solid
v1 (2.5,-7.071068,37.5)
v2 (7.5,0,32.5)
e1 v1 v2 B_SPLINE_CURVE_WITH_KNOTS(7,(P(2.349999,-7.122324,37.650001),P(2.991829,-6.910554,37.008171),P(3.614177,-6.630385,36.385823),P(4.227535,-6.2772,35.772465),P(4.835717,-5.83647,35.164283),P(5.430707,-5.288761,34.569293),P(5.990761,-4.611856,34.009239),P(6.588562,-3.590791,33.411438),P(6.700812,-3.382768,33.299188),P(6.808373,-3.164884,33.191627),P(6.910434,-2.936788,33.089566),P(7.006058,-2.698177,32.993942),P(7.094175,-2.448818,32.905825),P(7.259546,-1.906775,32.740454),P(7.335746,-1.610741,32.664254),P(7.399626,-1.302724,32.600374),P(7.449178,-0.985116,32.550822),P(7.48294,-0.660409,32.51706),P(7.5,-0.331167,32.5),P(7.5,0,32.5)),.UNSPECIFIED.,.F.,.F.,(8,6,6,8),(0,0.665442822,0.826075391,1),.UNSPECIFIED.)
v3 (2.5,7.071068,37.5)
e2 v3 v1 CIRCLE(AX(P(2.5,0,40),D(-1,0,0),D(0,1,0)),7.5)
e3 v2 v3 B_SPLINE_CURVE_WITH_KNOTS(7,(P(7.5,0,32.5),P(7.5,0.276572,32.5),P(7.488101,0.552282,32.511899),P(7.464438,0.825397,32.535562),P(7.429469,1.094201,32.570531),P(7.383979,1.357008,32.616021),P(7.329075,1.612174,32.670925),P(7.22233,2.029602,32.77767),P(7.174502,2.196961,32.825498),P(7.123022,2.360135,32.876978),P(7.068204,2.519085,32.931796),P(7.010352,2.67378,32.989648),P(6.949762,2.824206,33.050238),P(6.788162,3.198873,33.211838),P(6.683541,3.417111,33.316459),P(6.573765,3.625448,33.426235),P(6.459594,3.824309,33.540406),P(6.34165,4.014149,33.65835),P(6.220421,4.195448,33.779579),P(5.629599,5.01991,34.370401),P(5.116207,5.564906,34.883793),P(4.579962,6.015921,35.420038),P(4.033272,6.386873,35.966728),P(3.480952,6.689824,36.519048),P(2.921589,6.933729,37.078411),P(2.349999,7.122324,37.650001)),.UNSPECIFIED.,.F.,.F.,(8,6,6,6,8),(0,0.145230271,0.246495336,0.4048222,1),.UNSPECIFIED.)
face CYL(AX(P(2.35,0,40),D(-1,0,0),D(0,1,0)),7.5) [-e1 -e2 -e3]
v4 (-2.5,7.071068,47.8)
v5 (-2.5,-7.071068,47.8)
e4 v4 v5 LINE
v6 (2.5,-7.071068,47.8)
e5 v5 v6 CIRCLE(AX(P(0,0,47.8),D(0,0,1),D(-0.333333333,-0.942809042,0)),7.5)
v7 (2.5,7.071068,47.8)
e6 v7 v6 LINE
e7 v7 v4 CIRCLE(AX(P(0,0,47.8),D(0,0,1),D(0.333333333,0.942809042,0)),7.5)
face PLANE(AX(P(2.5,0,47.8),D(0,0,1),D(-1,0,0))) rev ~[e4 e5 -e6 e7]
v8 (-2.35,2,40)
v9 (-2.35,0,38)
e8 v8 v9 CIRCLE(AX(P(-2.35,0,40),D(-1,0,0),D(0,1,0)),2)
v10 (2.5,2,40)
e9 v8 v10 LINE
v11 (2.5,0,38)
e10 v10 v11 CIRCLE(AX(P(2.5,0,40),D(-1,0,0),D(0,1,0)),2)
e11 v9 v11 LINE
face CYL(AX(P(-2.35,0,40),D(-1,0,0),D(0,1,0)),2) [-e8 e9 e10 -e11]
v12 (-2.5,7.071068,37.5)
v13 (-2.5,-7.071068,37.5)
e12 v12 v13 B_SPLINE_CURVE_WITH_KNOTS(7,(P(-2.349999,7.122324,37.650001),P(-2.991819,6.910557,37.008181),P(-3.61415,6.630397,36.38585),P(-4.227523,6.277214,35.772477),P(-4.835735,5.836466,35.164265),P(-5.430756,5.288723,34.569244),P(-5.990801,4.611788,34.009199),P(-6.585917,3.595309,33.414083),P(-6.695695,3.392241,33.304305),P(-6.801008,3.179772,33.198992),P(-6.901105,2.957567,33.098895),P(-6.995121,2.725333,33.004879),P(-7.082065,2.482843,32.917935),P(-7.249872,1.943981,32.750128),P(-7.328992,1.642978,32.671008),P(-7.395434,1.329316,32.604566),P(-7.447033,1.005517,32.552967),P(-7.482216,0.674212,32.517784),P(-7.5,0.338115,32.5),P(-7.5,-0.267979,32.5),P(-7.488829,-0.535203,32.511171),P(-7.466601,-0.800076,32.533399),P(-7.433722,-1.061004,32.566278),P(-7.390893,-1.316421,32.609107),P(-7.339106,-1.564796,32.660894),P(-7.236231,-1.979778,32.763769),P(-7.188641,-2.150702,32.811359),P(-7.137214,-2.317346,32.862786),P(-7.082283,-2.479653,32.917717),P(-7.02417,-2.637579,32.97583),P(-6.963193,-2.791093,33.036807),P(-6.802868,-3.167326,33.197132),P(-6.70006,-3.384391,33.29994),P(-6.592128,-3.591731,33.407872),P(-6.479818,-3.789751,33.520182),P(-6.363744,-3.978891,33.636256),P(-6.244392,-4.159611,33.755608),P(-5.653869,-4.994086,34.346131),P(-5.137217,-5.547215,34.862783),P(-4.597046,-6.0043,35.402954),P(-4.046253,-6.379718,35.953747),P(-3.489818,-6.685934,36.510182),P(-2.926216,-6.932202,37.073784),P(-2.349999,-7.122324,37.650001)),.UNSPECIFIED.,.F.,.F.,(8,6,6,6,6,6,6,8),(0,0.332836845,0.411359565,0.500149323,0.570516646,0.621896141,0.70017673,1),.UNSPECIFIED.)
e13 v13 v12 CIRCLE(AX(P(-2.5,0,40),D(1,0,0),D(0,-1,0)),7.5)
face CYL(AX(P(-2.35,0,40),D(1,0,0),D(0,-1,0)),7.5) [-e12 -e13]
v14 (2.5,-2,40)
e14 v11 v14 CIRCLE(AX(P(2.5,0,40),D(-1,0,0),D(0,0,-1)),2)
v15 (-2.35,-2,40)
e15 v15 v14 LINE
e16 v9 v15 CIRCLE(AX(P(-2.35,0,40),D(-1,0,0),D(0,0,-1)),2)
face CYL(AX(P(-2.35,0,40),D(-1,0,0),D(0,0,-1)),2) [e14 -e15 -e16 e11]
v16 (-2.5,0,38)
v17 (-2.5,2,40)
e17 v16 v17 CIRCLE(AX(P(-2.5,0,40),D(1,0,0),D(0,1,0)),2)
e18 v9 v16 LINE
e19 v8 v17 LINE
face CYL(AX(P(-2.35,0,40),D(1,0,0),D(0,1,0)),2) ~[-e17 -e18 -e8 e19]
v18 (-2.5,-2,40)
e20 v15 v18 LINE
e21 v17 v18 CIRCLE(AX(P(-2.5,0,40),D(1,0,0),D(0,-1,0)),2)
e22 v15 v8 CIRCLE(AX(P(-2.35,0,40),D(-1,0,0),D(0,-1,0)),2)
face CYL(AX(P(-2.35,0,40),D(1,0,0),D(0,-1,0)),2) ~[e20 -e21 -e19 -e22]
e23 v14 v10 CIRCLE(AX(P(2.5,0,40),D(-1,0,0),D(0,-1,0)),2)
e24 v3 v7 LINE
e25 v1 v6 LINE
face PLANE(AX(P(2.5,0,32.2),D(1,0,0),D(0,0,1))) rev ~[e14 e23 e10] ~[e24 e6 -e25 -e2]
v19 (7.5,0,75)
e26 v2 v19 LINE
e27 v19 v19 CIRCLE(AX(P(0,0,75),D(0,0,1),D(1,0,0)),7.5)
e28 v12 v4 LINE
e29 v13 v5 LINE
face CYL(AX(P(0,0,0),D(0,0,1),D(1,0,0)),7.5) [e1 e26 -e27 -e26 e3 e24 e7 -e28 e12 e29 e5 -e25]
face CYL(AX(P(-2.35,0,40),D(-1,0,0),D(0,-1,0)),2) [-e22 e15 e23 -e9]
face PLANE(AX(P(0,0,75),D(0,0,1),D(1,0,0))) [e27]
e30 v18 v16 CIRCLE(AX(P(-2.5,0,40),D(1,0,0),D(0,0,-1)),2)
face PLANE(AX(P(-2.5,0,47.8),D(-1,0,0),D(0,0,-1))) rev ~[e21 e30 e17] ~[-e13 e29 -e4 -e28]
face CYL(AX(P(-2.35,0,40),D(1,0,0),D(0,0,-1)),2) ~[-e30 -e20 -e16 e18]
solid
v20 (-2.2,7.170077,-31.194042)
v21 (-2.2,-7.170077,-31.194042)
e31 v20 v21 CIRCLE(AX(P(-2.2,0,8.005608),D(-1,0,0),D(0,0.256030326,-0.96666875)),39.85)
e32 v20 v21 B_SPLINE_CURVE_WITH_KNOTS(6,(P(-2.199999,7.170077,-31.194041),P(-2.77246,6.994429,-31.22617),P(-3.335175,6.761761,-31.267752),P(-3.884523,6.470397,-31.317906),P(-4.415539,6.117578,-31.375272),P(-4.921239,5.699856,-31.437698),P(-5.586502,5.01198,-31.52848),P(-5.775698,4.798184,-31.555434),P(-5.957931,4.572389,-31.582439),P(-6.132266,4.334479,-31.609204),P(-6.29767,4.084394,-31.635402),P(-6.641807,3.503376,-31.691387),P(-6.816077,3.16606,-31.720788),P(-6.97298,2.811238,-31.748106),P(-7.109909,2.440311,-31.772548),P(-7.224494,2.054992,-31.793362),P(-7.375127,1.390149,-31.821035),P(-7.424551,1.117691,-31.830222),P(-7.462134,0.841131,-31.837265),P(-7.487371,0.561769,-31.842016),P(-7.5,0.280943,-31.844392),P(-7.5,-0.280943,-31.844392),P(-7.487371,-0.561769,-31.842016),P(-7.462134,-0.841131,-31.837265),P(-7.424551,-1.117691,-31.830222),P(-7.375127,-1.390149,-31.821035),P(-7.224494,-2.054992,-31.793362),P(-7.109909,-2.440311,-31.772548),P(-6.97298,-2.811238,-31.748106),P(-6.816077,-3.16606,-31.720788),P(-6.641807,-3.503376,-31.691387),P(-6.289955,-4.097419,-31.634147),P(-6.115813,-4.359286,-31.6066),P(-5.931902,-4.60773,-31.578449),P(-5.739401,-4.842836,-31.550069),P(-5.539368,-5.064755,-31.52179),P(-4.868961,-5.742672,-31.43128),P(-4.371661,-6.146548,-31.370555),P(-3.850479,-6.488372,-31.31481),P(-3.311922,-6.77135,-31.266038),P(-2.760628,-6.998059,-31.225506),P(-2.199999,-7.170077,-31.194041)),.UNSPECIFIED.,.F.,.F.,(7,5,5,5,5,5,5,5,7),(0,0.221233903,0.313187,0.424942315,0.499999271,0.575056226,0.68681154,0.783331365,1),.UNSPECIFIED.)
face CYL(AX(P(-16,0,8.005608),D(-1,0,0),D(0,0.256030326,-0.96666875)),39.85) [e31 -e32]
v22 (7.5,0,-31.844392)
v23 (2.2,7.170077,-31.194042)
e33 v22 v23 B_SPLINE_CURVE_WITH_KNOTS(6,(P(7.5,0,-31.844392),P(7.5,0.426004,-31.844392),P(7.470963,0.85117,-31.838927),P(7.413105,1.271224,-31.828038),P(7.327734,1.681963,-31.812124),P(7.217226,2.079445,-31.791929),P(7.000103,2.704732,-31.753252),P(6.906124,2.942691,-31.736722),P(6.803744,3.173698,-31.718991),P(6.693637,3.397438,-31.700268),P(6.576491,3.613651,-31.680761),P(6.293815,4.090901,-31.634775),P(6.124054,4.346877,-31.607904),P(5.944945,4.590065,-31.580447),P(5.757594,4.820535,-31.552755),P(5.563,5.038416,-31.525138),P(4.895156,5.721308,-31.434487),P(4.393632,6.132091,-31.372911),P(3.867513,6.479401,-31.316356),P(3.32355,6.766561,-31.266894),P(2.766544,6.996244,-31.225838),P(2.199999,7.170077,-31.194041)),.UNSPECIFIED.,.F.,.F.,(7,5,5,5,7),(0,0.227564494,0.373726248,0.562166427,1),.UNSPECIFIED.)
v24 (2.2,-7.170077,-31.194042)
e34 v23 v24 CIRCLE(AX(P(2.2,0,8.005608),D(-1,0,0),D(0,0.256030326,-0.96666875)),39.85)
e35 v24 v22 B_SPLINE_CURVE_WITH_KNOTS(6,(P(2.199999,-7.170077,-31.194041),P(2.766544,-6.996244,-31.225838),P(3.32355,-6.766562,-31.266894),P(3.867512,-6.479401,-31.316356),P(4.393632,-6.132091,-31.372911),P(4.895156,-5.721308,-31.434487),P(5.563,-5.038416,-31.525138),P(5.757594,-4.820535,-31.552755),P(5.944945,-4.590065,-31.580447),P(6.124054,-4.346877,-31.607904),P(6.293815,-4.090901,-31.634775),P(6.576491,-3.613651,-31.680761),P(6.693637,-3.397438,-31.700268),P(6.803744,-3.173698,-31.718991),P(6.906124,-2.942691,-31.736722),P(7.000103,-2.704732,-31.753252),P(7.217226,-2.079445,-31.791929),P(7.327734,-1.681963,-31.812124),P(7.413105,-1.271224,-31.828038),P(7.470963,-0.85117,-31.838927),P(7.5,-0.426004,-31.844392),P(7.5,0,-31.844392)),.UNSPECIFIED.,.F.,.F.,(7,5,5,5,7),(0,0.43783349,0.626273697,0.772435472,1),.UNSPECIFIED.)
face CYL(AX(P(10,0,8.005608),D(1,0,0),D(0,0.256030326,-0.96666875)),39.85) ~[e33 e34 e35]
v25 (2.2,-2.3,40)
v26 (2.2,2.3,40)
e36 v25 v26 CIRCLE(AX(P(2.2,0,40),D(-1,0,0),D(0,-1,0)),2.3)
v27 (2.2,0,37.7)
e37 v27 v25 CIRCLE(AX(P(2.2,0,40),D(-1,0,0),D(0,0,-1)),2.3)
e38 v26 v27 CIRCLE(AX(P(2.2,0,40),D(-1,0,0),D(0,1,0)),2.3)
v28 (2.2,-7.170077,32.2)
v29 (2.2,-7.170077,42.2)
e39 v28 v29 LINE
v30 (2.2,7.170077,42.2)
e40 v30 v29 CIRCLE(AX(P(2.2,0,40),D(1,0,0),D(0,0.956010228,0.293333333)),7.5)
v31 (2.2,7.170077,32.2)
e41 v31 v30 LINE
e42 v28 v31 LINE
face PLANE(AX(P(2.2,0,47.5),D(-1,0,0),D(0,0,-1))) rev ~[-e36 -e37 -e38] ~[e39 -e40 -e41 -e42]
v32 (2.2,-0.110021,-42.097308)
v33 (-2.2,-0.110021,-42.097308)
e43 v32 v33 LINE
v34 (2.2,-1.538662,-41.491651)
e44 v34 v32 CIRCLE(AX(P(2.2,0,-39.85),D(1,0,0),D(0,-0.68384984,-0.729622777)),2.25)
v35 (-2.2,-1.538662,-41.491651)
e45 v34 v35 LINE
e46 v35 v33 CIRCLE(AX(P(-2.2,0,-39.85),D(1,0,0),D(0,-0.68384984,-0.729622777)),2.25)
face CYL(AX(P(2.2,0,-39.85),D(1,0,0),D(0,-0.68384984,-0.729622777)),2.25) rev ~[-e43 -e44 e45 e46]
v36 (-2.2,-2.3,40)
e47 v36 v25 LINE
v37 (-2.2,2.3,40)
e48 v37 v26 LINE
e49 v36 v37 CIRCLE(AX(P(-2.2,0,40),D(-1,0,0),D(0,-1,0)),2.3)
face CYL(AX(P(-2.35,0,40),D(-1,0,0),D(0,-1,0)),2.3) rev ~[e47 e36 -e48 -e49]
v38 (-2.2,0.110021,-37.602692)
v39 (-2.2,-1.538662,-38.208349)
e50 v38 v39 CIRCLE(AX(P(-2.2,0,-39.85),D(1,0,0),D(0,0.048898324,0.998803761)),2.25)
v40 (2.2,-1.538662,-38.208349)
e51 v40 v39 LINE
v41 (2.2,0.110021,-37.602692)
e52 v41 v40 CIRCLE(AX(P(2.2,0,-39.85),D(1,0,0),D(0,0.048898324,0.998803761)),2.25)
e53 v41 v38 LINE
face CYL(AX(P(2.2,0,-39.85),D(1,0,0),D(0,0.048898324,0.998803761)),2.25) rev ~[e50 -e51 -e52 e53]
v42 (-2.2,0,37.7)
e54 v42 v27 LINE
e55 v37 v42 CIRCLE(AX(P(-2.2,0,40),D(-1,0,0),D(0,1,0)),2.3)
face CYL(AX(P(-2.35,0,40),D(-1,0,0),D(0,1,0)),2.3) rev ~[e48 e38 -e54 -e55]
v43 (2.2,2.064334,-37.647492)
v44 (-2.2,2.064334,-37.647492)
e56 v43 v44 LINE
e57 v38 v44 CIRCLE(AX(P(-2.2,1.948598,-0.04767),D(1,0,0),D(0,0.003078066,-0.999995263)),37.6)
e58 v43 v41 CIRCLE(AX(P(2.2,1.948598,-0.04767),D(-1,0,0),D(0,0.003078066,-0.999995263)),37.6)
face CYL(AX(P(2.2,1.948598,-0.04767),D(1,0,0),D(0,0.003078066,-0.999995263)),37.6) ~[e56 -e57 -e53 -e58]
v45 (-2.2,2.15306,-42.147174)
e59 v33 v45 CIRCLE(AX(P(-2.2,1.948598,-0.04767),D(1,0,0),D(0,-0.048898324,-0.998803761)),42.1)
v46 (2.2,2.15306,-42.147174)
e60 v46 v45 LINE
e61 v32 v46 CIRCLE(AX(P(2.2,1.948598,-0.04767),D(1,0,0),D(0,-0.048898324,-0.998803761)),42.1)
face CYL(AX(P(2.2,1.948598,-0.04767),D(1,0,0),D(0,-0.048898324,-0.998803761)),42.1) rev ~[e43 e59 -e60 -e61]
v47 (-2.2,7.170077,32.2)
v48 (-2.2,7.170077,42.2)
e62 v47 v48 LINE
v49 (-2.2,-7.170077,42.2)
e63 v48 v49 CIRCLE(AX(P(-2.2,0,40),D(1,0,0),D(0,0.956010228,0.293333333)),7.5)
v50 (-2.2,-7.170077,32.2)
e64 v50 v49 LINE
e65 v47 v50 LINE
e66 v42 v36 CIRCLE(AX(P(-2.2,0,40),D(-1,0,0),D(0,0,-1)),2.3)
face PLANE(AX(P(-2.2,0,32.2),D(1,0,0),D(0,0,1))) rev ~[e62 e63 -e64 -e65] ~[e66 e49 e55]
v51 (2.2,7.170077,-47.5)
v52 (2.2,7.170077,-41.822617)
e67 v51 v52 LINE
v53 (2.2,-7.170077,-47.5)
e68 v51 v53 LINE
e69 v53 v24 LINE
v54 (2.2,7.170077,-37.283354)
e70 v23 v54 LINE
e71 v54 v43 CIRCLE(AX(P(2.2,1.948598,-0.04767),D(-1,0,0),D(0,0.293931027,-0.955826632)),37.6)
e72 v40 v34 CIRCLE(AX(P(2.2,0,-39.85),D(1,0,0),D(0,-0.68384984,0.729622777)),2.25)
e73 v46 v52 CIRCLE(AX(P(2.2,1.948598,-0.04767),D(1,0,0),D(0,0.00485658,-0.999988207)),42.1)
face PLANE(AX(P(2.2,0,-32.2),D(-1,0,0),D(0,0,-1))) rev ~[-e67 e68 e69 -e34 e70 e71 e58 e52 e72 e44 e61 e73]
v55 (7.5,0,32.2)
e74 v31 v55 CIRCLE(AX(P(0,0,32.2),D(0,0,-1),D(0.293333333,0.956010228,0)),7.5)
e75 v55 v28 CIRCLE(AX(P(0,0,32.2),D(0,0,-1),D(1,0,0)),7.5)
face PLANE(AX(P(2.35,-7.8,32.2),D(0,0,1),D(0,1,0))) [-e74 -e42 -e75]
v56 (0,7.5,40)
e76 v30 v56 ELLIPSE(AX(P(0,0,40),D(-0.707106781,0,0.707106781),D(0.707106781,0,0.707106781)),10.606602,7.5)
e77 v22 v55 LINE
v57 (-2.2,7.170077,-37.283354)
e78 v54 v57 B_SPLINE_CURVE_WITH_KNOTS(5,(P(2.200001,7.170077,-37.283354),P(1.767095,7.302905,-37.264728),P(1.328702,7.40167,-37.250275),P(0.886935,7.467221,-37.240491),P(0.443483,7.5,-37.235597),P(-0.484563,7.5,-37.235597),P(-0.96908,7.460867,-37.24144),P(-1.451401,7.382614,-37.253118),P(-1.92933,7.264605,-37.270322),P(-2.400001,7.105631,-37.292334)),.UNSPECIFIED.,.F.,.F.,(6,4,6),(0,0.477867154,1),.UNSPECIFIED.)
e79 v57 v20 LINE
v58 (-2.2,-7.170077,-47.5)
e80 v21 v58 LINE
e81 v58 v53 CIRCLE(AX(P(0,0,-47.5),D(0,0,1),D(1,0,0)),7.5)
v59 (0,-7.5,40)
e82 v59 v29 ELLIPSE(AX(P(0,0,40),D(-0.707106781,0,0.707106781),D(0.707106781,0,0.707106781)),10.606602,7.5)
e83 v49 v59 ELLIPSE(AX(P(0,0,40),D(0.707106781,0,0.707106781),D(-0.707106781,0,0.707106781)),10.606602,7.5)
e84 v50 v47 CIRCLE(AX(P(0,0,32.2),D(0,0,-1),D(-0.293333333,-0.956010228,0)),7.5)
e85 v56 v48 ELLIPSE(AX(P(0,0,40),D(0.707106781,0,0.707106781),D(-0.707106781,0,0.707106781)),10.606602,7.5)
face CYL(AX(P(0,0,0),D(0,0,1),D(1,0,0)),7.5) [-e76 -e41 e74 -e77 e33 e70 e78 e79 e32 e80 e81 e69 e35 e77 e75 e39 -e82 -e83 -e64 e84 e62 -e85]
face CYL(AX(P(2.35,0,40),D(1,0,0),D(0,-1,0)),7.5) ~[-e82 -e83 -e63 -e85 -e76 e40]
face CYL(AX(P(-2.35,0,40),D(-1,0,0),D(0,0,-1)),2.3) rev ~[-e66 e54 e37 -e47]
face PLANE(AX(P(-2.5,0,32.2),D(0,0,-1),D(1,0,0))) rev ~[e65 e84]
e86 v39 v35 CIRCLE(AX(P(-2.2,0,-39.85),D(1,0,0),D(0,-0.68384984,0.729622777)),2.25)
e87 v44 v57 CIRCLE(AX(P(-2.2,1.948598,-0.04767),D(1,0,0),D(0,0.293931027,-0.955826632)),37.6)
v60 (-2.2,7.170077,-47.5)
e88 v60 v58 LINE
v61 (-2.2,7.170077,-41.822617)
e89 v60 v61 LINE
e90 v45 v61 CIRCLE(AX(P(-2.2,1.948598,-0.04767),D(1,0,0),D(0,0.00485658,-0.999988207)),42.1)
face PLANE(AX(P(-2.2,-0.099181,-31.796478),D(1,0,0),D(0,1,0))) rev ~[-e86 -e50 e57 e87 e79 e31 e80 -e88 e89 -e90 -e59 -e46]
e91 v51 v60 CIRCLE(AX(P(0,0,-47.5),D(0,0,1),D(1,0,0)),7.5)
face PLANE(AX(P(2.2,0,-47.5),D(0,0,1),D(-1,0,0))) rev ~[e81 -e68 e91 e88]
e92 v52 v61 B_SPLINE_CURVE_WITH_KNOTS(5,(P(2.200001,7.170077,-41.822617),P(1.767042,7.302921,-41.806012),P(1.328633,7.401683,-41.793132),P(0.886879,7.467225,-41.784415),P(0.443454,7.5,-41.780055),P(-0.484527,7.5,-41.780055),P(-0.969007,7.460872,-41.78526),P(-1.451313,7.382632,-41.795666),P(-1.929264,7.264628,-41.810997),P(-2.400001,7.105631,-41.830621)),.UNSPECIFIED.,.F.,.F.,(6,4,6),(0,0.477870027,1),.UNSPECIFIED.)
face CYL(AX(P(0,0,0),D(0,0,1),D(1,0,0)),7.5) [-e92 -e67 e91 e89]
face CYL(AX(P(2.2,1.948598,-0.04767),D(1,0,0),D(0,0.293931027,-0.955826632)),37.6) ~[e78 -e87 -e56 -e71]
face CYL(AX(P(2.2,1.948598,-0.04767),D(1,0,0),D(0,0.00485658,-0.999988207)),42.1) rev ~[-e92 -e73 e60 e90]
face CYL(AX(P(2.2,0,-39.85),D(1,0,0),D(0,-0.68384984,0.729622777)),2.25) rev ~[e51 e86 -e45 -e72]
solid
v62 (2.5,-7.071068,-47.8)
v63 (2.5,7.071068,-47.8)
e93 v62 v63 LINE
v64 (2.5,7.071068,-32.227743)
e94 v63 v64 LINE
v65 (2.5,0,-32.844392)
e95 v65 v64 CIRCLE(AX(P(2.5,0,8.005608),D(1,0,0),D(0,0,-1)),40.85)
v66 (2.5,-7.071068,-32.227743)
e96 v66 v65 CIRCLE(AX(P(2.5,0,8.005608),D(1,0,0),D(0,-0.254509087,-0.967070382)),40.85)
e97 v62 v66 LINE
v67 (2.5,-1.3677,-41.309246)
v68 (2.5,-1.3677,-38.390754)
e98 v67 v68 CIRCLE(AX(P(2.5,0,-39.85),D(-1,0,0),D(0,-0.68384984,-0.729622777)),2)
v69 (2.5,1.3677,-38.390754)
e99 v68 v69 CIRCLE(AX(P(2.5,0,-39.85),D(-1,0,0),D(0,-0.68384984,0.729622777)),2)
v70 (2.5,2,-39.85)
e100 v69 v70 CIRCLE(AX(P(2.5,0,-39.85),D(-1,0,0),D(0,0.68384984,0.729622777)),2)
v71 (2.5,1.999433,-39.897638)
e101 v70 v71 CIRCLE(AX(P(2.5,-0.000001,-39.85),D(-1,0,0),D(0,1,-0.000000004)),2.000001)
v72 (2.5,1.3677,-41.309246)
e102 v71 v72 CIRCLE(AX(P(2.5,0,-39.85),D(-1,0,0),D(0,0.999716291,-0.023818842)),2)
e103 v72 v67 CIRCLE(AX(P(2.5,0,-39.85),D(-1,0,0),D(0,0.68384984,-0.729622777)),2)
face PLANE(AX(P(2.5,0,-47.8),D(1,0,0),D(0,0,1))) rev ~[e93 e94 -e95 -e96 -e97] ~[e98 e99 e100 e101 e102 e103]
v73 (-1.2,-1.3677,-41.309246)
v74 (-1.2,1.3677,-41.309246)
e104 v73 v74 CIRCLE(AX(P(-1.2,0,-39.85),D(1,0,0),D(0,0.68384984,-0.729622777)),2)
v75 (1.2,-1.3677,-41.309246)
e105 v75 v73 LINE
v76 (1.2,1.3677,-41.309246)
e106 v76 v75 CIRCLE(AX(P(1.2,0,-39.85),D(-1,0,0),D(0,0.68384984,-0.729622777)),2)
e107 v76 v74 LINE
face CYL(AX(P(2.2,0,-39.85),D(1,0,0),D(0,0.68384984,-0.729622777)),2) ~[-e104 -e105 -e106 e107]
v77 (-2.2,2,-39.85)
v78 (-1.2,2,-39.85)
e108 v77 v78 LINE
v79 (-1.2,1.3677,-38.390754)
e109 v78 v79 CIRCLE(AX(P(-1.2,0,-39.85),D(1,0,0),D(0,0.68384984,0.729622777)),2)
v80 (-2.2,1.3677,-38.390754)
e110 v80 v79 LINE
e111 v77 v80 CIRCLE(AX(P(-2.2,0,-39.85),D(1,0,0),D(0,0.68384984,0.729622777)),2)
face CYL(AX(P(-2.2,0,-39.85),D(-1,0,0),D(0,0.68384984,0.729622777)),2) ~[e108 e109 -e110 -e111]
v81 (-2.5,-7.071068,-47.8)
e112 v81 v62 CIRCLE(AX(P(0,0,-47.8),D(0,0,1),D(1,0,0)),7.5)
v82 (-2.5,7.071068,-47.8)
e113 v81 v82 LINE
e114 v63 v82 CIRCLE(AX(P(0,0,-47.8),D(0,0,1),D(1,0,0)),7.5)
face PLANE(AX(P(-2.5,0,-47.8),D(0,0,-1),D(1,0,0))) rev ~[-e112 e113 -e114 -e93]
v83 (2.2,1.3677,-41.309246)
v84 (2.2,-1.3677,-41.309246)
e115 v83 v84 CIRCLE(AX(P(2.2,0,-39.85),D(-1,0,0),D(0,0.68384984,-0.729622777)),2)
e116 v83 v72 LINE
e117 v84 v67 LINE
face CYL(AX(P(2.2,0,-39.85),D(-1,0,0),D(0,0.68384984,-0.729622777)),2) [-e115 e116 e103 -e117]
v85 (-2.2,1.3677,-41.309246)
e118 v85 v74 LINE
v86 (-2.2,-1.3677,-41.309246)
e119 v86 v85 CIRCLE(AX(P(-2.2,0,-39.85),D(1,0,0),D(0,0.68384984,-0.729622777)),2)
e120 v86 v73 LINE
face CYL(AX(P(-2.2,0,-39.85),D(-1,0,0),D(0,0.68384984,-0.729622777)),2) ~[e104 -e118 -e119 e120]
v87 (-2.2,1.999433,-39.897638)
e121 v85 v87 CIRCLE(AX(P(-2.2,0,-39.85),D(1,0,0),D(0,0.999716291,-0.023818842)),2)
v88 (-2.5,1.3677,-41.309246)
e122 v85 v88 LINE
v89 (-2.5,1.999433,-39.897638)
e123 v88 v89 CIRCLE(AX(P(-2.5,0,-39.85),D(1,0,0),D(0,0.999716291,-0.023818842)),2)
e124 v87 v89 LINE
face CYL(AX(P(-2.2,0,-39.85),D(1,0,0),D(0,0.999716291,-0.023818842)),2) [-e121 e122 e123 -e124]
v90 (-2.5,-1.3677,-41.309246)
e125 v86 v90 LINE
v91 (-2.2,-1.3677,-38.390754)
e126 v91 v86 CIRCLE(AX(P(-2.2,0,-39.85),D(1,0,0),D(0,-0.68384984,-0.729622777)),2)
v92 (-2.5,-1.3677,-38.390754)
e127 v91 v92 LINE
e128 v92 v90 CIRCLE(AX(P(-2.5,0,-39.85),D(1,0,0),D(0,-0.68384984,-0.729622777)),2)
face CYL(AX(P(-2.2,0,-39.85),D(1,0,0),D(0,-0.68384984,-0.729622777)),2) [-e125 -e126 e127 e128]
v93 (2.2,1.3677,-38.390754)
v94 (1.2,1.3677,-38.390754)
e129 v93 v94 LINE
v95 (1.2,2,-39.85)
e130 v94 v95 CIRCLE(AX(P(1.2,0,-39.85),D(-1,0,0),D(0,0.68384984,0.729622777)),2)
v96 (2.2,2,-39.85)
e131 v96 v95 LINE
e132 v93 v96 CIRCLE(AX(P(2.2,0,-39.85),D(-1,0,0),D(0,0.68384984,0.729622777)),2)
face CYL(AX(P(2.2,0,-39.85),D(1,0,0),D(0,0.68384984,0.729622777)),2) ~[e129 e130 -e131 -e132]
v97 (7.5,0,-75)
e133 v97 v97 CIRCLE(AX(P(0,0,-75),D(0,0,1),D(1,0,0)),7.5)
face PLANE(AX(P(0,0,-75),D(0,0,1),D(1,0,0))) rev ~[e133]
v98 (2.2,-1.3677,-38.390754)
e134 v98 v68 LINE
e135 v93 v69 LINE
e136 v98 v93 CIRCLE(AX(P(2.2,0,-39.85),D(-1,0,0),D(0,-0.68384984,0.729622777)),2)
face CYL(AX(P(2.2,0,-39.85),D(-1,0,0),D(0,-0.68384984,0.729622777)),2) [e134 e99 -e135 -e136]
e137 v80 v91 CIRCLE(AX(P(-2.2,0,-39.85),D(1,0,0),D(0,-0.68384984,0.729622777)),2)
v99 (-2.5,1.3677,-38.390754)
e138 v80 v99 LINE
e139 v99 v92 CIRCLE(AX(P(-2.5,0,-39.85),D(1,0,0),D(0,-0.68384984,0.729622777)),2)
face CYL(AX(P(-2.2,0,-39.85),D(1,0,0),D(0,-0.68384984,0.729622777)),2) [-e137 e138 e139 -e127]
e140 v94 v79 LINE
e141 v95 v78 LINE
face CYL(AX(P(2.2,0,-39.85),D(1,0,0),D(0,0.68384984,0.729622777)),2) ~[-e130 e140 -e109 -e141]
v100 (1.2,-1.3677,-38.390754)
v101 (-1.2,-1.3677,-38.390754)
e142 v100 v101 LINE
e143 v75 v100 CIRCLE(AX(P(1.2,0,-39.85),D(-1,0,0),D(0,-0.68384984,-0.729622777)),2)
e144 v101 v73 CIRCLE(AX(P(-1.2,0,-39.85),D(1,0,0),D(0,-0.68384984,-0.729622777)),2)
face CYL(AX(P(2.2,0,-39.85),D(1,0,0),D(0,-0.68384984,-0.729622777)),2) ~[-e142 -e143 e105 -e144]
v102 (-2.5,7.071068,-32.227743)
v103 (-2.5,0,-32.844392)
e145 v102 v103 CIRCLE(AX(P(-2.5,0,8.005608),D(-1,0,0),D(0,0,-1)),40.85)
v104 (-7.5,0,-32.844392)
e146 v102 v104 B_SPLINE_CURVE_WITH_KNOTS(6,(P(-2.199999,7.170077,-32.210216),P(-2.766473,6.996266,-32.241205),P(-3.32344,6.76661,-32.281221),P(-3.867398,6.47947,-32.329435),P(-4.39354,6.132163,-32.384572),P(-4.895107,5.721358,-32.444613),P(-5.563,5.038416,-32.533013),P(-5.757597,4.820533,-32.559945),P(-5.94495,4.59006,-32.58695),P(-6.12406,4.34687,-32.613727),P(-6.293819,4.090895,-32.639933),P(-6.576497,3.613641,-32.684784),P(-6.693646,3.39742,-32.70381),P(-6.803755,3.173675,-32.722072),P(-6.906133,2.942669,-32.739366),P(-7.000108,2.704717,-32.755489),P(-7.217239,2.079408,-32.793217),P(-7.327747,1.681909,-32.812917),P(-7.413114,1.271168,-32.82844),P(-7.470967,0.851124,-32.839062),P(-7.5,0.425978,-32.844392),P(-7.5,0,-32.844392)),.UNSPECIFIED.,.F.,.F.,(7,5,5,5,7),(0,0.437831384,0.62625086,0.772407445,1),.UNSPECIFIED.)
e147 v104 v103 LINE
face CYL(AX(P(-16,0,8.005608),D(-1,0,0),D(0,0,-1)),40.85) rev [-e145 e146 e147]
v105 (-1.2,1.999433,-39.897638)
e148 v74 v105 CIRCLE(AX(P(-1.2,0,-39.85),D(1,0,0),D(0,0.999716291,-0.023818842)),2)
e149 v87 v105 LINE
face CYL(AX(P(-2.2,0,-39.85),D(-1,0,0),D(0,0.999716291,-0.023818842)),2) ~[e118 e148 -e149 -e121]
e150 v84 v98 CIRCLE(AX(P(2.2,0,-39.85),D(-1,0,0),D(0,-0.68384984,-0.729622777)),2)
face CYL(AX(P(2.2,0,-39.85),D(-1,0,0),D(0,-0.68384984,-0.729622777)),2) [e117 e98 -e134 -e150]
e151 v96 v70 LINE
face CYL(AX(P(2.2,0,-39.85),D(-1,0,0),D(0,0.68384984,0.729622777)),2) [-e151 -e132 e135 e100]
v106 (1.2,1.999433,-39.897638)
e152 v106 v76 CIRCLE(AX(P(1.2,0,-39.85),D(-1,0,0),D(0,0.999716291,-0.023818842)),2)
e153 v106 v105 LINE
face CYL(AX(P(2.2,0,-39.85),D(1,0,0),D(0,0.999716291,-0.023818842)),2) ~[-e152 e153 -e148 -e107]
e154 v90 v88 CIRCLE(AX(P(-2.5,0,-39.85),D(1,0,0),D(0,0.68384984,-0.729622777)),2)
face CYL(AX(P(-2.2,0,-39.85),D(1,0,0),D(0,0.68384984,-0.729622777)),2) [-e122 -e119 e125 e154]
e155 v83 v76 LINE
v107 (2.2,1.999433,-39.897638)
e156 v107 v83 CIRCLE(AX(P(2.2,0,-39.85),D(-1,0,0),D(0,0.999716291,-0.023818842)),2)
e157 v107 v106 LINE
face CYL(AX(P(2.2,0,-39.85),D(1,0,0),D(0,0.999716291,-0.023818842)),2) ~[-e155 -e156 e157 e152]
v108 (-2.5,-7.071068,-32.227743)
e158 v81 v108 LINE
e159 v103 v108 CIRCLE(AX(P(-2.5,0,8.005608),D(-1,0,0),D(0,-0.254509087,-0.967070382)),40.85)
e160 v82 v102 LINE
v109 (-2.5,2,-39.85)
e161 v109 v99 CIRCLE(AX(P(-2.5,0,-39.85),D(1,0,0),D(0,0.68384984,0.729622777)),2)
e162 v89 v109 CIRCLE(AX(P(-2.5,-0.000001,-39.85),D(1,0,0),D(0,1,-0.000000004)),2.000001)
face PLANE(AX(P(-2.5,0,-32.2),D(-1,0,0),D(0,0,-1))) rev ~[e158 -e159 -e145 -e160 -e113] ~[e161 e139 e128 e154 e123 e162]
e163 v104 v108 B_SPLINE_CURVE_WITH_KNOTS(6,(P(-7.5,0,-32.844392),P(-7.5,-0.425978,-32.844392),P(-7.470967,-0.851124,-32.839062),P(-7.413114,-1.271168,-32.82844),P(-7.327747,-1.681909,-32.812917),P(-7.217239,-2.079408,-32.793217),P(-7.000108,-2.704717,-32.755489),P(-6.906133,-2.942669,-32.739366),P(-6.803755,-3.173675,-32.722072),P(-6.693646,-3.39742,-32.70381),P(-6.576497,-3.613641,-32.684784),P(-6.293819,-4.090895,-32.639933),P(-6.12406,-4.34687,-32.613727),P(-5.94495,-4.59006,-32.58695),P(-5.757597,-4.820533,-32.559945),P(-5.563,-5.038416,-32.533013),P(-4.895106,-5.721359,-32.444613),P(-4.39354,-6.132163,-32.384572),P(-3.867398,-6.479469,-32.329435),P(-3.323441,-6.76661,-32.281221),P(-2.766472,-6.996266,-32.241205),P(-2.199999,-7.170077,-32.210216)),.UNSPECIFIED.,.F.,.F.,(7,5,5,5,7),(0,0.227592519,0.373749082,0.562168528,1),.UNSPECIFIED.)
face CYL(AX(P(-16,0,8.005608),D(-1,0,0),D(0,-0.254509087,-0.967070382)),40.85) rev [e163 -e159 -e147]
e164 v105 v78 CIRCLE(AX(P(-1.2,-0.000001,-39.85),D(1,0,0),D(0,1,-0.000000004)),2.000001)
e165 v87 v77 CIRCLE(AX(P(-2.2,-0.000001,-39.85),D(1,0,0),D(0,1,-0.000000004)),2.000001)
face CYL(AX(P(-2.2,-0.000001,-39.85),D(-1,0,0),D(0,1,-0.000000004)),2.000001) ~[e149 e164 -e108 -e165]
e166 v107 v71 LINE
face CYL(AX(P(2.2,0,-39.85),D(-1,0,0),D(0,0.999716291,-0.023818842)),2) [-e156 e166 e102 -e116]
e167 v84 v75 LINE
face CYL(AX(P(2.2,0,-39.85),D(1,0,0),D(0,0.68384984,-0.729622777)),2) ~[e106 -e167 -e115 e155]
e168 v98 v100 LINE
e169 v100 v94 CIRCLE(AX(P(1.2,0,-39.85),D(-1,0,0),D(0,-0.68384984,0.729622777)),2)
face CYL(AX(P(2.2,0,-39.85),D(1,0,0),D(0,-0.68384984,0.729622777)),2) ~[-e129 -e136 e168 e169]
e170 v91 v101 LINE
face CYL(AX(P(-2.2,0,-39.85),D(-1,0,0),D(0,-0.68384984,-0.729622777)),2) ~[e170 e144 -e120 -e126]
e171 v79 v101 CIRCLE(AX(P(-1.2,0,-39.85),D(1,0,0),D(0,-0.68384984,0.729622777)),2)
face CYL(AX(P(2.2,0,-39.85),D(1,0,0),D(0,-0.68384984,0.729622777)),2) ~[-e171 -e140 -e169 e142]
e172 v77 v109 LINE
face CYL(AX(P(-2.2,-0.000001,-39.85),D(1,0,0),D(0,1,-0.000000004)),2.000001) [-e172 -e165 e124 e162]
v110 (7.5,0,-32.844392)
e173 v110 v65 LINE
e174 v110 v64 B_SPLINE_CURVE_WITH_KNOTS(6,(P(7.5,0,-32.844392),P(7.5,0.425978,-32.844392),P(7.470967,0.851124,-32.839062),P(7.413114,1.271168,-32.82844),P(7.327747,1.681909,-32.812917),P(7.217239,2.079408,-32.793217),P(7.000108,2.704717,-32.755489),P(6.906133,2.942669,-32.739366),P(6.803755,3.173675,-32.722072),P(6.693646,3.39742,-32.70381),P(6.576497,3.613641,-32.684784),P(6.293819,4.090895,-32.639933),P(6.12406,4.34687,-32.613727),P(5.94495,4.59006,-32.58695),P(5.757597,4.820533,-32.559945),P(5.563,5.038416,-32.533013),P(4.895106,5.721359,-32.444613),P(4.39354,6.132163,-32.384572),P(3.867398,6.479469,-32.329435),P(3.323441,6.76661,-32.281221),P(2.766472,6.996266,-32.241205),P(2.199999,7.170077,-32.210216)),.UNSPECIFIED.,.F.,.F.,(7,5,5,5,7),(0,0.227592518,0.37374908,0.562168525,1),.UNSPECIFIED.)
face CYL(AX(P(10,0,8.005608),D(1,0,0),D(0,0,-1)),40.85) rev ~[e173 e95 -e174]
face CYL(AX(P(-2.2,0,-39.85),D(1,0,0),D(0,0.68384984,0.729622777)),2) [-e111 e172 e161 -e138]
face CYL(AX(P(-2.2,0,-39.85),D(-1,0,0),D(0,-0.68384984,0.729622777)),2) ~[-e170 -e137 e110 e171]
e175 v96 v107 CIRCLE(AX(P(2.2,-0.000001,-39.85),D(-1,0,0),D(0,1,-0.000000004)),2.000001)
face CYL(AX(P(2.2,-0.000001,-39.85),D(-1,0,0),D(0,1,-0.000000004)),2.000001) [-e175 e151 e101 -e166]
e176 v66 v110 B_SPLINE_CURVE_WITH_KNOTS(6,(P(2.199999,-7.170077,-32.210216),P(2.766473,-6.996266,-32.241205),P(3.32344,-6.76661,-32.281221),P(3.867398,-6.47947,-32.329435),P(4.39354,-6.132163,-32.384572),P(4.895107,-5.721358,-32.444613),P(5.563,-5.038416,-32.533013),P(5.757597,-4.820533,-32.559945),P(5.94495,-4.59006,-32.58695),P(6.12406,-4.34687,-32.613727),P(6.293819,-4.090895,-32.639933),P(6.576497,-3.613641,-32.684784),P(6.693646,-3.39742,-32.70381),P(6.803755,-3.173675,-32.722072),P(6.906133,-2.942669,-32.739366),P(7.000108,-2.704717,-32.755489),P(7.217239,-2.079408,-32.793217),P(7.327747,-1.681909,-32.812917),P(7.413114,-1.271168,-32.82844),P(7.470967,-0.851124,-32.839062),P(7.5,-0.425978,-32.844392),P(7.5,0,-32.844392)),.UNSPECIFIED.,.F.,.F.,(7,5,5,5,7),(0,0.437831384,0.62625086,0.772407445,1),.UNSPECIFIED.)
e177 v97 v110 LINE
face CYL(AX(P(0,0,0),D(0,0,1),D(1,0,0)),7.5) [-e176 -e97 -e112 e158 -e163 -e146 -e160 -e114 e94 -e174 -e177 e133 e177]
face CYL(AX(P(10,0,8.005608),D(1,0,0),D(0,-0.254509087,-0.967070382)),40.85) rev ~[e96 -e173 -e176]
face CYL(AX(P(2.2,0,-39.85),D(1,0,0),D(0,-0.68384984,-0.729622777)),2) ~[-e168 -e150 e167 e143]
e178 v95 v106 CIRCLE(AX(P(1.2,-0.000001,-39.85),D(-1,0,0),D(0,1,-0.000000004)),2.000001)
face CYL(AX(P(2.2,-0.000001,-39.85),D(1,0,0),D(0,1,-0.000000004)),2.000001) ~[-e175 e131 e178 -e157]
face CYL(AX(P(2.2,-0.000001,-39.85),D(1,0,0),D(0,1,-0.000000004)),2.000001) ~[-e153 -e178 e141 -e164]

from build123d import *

# Parameters (mm, degrees)
F0_R           = 7.5
F1_DEPTH       = 75
F3_DEPTH       = 12.5
F8_DEPTH       = 4.8
F9_DEPTH       = 25
F10_DEPTH      = 4.6
F11_DEPTH      = 25
F12_DEPTH      = 4.7
F13_DEPTH      = 3
F13_DEPTH_BACK = 6
F14_DEPTH      = 12.5
F16_DEPTH      = 4.6
F20_DEPTH      = 7.8
F23_DEPTH      = 13.8
F24_DEPTH      = 1


with BuildPart() as f1:
    # F0 (on Top) → F1 (new body, symmetric)
    with BuildSketch(Plane.XY):
        Circle(F0_R)
    extrude(amount=F1_DEPTH, both=True)

    # F2 (on Front) → F3 (cut, symmetric)
    with BuildSketch(Plane.XZ):
        Polygon((2.2, 32.5), (2.2, 32.2), (2.5, 32.2), (2.5, 40), (2.5, 47.8), (0, 47.8), (-2.5, 47.8), (-2.5, 42.1871210635), (-2.5, 32.2), (-2.2, 32.2), (-2.2, 32.5), (-2.2, 40), (-2.2, 47.5), (0, 47.5), (2.2, 47.5), (2.2, 40), align=None)
    extrude(amount=F3_DEPTH, both=True, mode=Mode.SUBTRACT)

    # F7 (on offset) → F8 (cut)
    with BuildSketch(Plane(origin=(-2.35, 0, 0), x_dir=(0, -1, 0), z_dir=(-1, 0, 0))):
        with BuildLine():
            Line((-2, 40), (0, 40))
            Line((0, 40), (2, 40))
            ThreePointArc((2, 40), (0, 42), (-2, 40))
        make_face()
        with BuildLine():
            Line((0, 40), (0, 38))
            ThreePointArc((0, 38), (1.4142135624, 38.5857864376), (2, 40))
            Line((2, 40), (0, 40))
        make_face()
        with BuildLine():
            Line((0, 38), (0, 37.7))
            ThreePointArc((0, 37.7), (1.6263455967, 38.3736544033), (2.3, 40))
            Line((2.3, 40), (2, 40))
            ThreePointArc((2, 40), (1.4142135624, 38.5857864376), (0, 38))
        make_face()
        with BuildLine():
            ThreePointArc((-2, 40), (-1.4142135624, 38.5857864376), (0, 38))
            Line((0, 38), (0, 40))
            Line((0, 40), (-2, 40))
        make_face()
        with BuildLine():
            ThreePointArc((-2.3, 40), (-1.6263455967, 38.3736544033), (0, 37.7))
            Line((0, 37.7), (0, 38))
            ThreePointArc((0, 38), (-1.4142135624, 38.5857864376), (-2, 40))
            Line((-2, 40), (-2.3, 40))
        make_face()
        with BuildLine():
            ThreePointArc((2.3, 40), (0, 42.3), (-2.3, 40))
            Line((-2.3, 40), (-2, 40))
            ThreePointArc((-2, 40), (0, 42), (2, 40))
            Line((2, 40), (2.3, 40))
        make_face()
    extrude(amount=-F8_DEPTH, mode=Mode.SUBTRACT)

    # F5 (on offset) → F9 (cut)
    with BuildSketch(Plane.YZ.offset(2.35)):
        with BuildLine():
            Line((-7.8, 32.2), (0, 32.2))
            ThreePointArc((0, 32.2), (-5.5154328933, 34.4845671067), (-7.8, 40))
            Line((-7.8, 40), (-7.8, 32.2))
        make_face()
        with BuildLine():
            ThreePointArc((-7.8, 40), (-5.5154328933, 34.4845671067), (0, 32.2))
            Line((0, 32.2), (0, 32.5))
            ThreePointArc((0, 32.5), (-5.3033008589, 34.6966991411), (-7.5, 40))
            Line((-7.5, 40), (-7.8, 40))
        make_face()
        with BuildLine():
            Line((0, 32.5), (0, 32.2))
            ThreePointArc((0, 32.2), (5.5154328933, 34.4845671067), (7.8, 40))
            Line((7.8, 40), (7.5, 40))
            ThreePointArc((7.5, 40), (5.3033008589, 34.6966991411), (0, 32.5))
        make_face()
        with BuildLine():
            ThreePointArc((7.8, 40), (5.5154328933, 34.4845671067), (0, 32.2))
            Line((0, 32.2), (7.8, 32.2))
            Line((7.8, 32.2), (7.8, 40))
        make_face()
    extrude(amount=F9_DEPTH, mode=Mode.SUBTRACT)

    # F5 (on offset) → F10 (cut)
    with BuildSketch(Plane.YZ.offset(2.35)):
        with BuildLine():
            ThreePointArc((0, 47.8), (5.5154328933, 45.5154328933), (7.8, 40))
            Line((7.8, 40), (7.8, 47.8))
            Line((7.8, 47.8), (0, 47.8))
        make_face()
        with BuildLine():
            ThreePointArc((0, 47.8), (-5.5154328933, 45.5154328933), (-7.8, 40))
            Line((-7.8, 40), (-7.5, 40))
            ThreePointArc((-7.5, 40), (0, 47.5), (7.5, 40))
            Line((7.5, 40), (7.8, 40))
            ThreePointArc((7.8, 40), (5.5154328933, 45.5154328933), (0, 47.8))
        make_face()
        with BuildLine():
            Line((-7.8, 47.8), (-7.8, 40))
            ThreePointArc((-7.8, 40), (-5.5154328933, 45.5154328933), (0, 47.8))
            Line((0, 47.8), (-7.8, 47.8))
        make_face()
    extrude(amount=-F10_DEPTH, mode=Mode.SUBTRACT)

    # F7 (on offset) → F11 (cut)
    with BuildSketch(Plane(origin=(-2.35, 0, 0), x_dir=(0, -1, 0), z_dir=(-1, 0, 0))):
        with BuildLine():
            ThreePointArc((7.8, 40), (5.5154328933, 34.4845671067), (0, 32.2))
            Line((0, 32.2), (7.8, 32.2))
            Line((7.8, 32.2), (7.8, 40))
        make_face()
        with BuildLine():
            Line((0, 32.5), (0, 32.2))
            ThreePointArc((0, 32.2), (5.5154328933, 34.4845671067), (7.8, 40))
            Line((7.8, 40), (7.5, 40))
            ThreePointArc((7.5, 40), (5.3033008589, 34.6966991411), (0, 32.5))
        make_face()
        with BuildLine():
            ThreePointArc((-7.8, 40), (-5.5154328933, 34.4845671067), (0, 32.2))
            Line((0, 32.2), (0, 32.5))
            ThreePointArc((0, 32.5), (-5.3033008589, 34.6966991411), (-7.5, 40))
            Line((-7.5, 40), (-7.8, 40))
        make_face()
        with BuildLine():
            Line((-7.8, 32.2), (0, 32.2))
            ThreePointArc((0, 32.2), (-5.5154328933, 34.4845671067), (-7.8, 40))
            Line((-7.8, 40), (-7.8, 32.2))
        make_face()
    extrude(amount=F11_DEPTH, mode=Mode.SUBTRACT)

    # F7 (on offset) → F12 (cut)
    with BuildSketch(Plane(origin=(-2.35, 0, 0), x_dir=(0, -1, 0), z_dir=(-1, 0, 0))):
        with BuildLine():
            Line((-2, 40), (0, 40))
            Line((0, 40), (2, 40))
            ThreePointArc((2, 40), (0, 42), (-2, 40))
        make_face()
        with BuildLine():
            ThreePointArc((-2, 40), (-1.4142135624, 38.5857864376), (0, 38))
            Line((0, 38), (0, 40))
            Line((0, 40), (-2, 40))
        make_face()
        with BuildLine():
            Line((0, 38), (0, 37.7))
            ThreePointArc((0, 37.7), (1.6263455967, 38.3736544033), (2.3, 40))
            Line((2.3, 40), (2, 40))
            ThreePointArc((2, 40), (1.4142135624, 38.5857864376), (0, 38))
        make_face()
        with BuildLine():
            Line((0, 40), (0, 38))
            ThreePointArc((0, 38), (1.4142135624, 38.5857864376), (2, 40))
            Line((2, 40), (0, 40))
        make_face()
        with BuildLine():
            ThreePointArc((2.3, 40), (0, 42.3), (-2.3, 40))
            Line((-2.3, 40), (-2, 40))
            ThreePointArc((-2, 40), (0, 42), (2, 40))
            Line((2, 40), (2.3, 40))
        make_face()
        with BuildLine():
            ThreePointArc((-2.3, 40), (-1.6263455967, 38.3736544033), (0, 37.7))
            Line((0, 37.7), (0, 38))
            ThreePointArc((0, 38), (-1.4142135624, 38.5857864376), (-2, 40))
            Line((-2, 40), (-2.3, 40))
        make_face()
    extrude(amount=-F12_DEPTH, mode=Mode.SUBTRACT)

    # F7 (on offset) → F13 (join, two sides)
    with BuildSketch(Plane(origin=(-2.35, 0, 0), x_dir=(0, -1, 0), z_dir=(-1, 0, 0))) as f13_sk:
        with BuildLine():
            Line((-2, 40), (0, 40))
            Line((0, 40), (2, 40))
            ThreePointArc((2, 40), (0, 42), (-2, 40))
        make_face()
        with BuildLine():
            ThreePointArc((-2, 40), (-1.4142135624, 38.5857864376), (0, 38))
            Line((0, 38), (0, 40))
            Line((0, 40), (-2, 40))
        make_face()
        with BuildLine():
            Line((0, 40), (0, 38))
            ThreePointArc((0, 38), (1.4142135624, 38.5857864376), (2, 40))
            Line((2, 40), (0, 40))
        make_face()
    extrude(amount=F13_DEPTH)
    extrude(f13_sk.sketch, amount=-F13_DEPTH_BACK)

    # F2 (on Front) → F14 (cut, symmetric)
    with BuildSketch(Plane.XZ):
        Polygon((2.5, -32.2), (2.2, -32.2), (2.2, -32.5), (2.2, -40), (2.2, -47.5), (0, -47.5), (-2.2, -47.5), (-2.2, -40), (-2.2, -32.5), (-2.2, -32.2), (-2.5, -32.2), (-2.5, -42.1871210635), (-2.5, -47.8), (0, -47.8), (2.5, -47.8), (2.5, -40), align=None)
    extrude(amount=F14_DEPTH, both=True, mode=Mode.SUBTRACT)

    # F15 (on face) → F16 (cut)
    with BuildSketch(Plane.YZ.offset(2.2)):
        with BuildLine():
            ThreePointArc((0.1100212297, -37.6026915367), (-0.7758600895, -37.7380006815), (-1.5386621402, -38.2083487525))
            Line((-1.5386621402, -38.2083487525), (-1.3676996802, -38.3907544467))
            ThreePointArc((-1.3676996802, -38.3907544467), (0, -37.85), (1.3676996802, -38.3907544467))
            Line((1.3676996802, -38.3907544467), (2.0643335182, -37.6474919855))
            ThreePointArc((2.0643335182, -37.6474919855), (1.0868861776, -37.6377945056), (0.1100212297, -37.6026915367))
        make_face()
        with BuildLine():
            Line((-1.3676996802, -38.3907544467), (-1.5386621402, -38.2083487525))
            ThreePointArc((-1.5386621402, -38.2083487525), (-2.25, -39.85), (-1.5386621402, -41.4916512475))
            Line((-1.5386621402, -41.4916512475), (-1.3676996802, -41.3092455533))
            ThreePointArc((-1.3676996802, -41.3092455533), (-2, -39.85), (-1.3676996802, -38.3907544467))
        make_face()
        with BuildLine():
            Line((-1.3676996802, -41.3092455533), (-1.5386621402, -41.4916512475))
            ThreePointArc((-1.5386621402, -41.4916512475), (-0.8782052034, -41.9215346052), (-0.1100212297, -42.0973084633))
            ThreePointArc((-0.1100212297, -42.0973084633), (1.0211843118, -42.1374539432), (2.1530602611, -42.1471736102))
            Line((2.1530602611, -42.1471736102), (1.3676996802, -41.3092455533))
            ThreePointArc((1.3676996802, -41.3092455533), (0, -41.85), (-1.3676996802, -41.3092455533))
        make_face()
        with BuildLine():
            Line((2.0643335182, -37.6474919855), (1.3676996802, -38.3907544467))
            ThreePointArc((1.3676996802, -38.3907544467), (1.8351293361, -39.0548268617), (2, -39.85))
            ThreePointArc((2, -39.85), (1.9998581405, -39.8738205311), (1.9994325823, -39.8976376831))
            ThreePointArc((1.9994325823, -39.8976376831), (1.8255284476, -40.6669736146), (1.3676996802, -41.3092455533))
            Line((1.3676996802, -41.3092455533), (2.1530602611, -42.1471736102))
            ThreePointArc((2.1530602611, -42.1471736102), (8.3064049344, -41.6648335588), (14.3230944724, -40.2879713302))
            ThreePointArc((14.3230944724, -40.2879713302), (15.8123595839, -37.4760165959), (13.0004048496, -35.9867514844))
            ThreePointArc((13.0004048496, -35.9867514844), (7.5937742961, -37.2214779165), (2.0643335182, -37.6474919855))
        make_face()
    extrude(amount=-F16_DEPTH, mode=Mode.SUBTRACT)

    # F19 (on offset) → F20 (cut)
    with BuildSketch(Plane.YZ.offset(10)):
        with BuildLine():
            ThreePointArc((10.2028084727, -30.516141973), (-0.1003538011, -31.8442659218), (-10.3966962167, -30.4642663105))
            Line((-10.3966962167, -30.4642663105), (-10.3966962167, -31.4992174021))
            ThreePointArc((-10.3966962167, -31.4992174021), (-5.2416788265, -32.5067027946), (0, -32.8443922819))
            ThreePointArc((0, -32.8443922819), (5.142310672, -32.5194356619), (10.2028084727, -31.5497357802))
            Line((10.2028084727, -31.5497357802), (10.2028084727, -30.516141973))
        make_face()
    extrude(amount=-F20_DEPTH, mode=Mode.SUBTRACT)

    # F22 (on offset) → F23 (cut)
    with BuildSketch(Plane.YZ.offset(-16)):
        with BuildLine():
            ThreePointArc((10.2028084727, -30.516141973), (-0.1003538011, -31.8442659218), (-10.3966962167, -30.4642663105))
            Line((-10.3966962167, -30.4642663105), (-10.3966962167, -31.4992174021))
            ThreePointArc((-10.3966962167, -31.4992174021), (-5.2416788265, -32.5067027946), (0, -32.8443922819))
            ThreePointArc((0, -32.8443922819), (5.142310672, -32.5194356619), (10.2028084727, -31.5497357802))
            Line((10.2028084727, -31.5497357802), (10.2028084727, -30.516141973))
        make_face()
    extrude(amount=F23_DEPTH, mode=Mode.SUBTRACT)

    # F24 (add, symmetric): faces of the model
    f24_faces = [f1.faces().sort_by_distance(p)[0] for p in [
        (2.2, 0, -39.85),
        (-2.2, 0, -39.85),
    ]]
    extrude(f24_faces, amount=F24_DEPTH, both=True, dir=(1, 0, 0))


solid = f1.part
